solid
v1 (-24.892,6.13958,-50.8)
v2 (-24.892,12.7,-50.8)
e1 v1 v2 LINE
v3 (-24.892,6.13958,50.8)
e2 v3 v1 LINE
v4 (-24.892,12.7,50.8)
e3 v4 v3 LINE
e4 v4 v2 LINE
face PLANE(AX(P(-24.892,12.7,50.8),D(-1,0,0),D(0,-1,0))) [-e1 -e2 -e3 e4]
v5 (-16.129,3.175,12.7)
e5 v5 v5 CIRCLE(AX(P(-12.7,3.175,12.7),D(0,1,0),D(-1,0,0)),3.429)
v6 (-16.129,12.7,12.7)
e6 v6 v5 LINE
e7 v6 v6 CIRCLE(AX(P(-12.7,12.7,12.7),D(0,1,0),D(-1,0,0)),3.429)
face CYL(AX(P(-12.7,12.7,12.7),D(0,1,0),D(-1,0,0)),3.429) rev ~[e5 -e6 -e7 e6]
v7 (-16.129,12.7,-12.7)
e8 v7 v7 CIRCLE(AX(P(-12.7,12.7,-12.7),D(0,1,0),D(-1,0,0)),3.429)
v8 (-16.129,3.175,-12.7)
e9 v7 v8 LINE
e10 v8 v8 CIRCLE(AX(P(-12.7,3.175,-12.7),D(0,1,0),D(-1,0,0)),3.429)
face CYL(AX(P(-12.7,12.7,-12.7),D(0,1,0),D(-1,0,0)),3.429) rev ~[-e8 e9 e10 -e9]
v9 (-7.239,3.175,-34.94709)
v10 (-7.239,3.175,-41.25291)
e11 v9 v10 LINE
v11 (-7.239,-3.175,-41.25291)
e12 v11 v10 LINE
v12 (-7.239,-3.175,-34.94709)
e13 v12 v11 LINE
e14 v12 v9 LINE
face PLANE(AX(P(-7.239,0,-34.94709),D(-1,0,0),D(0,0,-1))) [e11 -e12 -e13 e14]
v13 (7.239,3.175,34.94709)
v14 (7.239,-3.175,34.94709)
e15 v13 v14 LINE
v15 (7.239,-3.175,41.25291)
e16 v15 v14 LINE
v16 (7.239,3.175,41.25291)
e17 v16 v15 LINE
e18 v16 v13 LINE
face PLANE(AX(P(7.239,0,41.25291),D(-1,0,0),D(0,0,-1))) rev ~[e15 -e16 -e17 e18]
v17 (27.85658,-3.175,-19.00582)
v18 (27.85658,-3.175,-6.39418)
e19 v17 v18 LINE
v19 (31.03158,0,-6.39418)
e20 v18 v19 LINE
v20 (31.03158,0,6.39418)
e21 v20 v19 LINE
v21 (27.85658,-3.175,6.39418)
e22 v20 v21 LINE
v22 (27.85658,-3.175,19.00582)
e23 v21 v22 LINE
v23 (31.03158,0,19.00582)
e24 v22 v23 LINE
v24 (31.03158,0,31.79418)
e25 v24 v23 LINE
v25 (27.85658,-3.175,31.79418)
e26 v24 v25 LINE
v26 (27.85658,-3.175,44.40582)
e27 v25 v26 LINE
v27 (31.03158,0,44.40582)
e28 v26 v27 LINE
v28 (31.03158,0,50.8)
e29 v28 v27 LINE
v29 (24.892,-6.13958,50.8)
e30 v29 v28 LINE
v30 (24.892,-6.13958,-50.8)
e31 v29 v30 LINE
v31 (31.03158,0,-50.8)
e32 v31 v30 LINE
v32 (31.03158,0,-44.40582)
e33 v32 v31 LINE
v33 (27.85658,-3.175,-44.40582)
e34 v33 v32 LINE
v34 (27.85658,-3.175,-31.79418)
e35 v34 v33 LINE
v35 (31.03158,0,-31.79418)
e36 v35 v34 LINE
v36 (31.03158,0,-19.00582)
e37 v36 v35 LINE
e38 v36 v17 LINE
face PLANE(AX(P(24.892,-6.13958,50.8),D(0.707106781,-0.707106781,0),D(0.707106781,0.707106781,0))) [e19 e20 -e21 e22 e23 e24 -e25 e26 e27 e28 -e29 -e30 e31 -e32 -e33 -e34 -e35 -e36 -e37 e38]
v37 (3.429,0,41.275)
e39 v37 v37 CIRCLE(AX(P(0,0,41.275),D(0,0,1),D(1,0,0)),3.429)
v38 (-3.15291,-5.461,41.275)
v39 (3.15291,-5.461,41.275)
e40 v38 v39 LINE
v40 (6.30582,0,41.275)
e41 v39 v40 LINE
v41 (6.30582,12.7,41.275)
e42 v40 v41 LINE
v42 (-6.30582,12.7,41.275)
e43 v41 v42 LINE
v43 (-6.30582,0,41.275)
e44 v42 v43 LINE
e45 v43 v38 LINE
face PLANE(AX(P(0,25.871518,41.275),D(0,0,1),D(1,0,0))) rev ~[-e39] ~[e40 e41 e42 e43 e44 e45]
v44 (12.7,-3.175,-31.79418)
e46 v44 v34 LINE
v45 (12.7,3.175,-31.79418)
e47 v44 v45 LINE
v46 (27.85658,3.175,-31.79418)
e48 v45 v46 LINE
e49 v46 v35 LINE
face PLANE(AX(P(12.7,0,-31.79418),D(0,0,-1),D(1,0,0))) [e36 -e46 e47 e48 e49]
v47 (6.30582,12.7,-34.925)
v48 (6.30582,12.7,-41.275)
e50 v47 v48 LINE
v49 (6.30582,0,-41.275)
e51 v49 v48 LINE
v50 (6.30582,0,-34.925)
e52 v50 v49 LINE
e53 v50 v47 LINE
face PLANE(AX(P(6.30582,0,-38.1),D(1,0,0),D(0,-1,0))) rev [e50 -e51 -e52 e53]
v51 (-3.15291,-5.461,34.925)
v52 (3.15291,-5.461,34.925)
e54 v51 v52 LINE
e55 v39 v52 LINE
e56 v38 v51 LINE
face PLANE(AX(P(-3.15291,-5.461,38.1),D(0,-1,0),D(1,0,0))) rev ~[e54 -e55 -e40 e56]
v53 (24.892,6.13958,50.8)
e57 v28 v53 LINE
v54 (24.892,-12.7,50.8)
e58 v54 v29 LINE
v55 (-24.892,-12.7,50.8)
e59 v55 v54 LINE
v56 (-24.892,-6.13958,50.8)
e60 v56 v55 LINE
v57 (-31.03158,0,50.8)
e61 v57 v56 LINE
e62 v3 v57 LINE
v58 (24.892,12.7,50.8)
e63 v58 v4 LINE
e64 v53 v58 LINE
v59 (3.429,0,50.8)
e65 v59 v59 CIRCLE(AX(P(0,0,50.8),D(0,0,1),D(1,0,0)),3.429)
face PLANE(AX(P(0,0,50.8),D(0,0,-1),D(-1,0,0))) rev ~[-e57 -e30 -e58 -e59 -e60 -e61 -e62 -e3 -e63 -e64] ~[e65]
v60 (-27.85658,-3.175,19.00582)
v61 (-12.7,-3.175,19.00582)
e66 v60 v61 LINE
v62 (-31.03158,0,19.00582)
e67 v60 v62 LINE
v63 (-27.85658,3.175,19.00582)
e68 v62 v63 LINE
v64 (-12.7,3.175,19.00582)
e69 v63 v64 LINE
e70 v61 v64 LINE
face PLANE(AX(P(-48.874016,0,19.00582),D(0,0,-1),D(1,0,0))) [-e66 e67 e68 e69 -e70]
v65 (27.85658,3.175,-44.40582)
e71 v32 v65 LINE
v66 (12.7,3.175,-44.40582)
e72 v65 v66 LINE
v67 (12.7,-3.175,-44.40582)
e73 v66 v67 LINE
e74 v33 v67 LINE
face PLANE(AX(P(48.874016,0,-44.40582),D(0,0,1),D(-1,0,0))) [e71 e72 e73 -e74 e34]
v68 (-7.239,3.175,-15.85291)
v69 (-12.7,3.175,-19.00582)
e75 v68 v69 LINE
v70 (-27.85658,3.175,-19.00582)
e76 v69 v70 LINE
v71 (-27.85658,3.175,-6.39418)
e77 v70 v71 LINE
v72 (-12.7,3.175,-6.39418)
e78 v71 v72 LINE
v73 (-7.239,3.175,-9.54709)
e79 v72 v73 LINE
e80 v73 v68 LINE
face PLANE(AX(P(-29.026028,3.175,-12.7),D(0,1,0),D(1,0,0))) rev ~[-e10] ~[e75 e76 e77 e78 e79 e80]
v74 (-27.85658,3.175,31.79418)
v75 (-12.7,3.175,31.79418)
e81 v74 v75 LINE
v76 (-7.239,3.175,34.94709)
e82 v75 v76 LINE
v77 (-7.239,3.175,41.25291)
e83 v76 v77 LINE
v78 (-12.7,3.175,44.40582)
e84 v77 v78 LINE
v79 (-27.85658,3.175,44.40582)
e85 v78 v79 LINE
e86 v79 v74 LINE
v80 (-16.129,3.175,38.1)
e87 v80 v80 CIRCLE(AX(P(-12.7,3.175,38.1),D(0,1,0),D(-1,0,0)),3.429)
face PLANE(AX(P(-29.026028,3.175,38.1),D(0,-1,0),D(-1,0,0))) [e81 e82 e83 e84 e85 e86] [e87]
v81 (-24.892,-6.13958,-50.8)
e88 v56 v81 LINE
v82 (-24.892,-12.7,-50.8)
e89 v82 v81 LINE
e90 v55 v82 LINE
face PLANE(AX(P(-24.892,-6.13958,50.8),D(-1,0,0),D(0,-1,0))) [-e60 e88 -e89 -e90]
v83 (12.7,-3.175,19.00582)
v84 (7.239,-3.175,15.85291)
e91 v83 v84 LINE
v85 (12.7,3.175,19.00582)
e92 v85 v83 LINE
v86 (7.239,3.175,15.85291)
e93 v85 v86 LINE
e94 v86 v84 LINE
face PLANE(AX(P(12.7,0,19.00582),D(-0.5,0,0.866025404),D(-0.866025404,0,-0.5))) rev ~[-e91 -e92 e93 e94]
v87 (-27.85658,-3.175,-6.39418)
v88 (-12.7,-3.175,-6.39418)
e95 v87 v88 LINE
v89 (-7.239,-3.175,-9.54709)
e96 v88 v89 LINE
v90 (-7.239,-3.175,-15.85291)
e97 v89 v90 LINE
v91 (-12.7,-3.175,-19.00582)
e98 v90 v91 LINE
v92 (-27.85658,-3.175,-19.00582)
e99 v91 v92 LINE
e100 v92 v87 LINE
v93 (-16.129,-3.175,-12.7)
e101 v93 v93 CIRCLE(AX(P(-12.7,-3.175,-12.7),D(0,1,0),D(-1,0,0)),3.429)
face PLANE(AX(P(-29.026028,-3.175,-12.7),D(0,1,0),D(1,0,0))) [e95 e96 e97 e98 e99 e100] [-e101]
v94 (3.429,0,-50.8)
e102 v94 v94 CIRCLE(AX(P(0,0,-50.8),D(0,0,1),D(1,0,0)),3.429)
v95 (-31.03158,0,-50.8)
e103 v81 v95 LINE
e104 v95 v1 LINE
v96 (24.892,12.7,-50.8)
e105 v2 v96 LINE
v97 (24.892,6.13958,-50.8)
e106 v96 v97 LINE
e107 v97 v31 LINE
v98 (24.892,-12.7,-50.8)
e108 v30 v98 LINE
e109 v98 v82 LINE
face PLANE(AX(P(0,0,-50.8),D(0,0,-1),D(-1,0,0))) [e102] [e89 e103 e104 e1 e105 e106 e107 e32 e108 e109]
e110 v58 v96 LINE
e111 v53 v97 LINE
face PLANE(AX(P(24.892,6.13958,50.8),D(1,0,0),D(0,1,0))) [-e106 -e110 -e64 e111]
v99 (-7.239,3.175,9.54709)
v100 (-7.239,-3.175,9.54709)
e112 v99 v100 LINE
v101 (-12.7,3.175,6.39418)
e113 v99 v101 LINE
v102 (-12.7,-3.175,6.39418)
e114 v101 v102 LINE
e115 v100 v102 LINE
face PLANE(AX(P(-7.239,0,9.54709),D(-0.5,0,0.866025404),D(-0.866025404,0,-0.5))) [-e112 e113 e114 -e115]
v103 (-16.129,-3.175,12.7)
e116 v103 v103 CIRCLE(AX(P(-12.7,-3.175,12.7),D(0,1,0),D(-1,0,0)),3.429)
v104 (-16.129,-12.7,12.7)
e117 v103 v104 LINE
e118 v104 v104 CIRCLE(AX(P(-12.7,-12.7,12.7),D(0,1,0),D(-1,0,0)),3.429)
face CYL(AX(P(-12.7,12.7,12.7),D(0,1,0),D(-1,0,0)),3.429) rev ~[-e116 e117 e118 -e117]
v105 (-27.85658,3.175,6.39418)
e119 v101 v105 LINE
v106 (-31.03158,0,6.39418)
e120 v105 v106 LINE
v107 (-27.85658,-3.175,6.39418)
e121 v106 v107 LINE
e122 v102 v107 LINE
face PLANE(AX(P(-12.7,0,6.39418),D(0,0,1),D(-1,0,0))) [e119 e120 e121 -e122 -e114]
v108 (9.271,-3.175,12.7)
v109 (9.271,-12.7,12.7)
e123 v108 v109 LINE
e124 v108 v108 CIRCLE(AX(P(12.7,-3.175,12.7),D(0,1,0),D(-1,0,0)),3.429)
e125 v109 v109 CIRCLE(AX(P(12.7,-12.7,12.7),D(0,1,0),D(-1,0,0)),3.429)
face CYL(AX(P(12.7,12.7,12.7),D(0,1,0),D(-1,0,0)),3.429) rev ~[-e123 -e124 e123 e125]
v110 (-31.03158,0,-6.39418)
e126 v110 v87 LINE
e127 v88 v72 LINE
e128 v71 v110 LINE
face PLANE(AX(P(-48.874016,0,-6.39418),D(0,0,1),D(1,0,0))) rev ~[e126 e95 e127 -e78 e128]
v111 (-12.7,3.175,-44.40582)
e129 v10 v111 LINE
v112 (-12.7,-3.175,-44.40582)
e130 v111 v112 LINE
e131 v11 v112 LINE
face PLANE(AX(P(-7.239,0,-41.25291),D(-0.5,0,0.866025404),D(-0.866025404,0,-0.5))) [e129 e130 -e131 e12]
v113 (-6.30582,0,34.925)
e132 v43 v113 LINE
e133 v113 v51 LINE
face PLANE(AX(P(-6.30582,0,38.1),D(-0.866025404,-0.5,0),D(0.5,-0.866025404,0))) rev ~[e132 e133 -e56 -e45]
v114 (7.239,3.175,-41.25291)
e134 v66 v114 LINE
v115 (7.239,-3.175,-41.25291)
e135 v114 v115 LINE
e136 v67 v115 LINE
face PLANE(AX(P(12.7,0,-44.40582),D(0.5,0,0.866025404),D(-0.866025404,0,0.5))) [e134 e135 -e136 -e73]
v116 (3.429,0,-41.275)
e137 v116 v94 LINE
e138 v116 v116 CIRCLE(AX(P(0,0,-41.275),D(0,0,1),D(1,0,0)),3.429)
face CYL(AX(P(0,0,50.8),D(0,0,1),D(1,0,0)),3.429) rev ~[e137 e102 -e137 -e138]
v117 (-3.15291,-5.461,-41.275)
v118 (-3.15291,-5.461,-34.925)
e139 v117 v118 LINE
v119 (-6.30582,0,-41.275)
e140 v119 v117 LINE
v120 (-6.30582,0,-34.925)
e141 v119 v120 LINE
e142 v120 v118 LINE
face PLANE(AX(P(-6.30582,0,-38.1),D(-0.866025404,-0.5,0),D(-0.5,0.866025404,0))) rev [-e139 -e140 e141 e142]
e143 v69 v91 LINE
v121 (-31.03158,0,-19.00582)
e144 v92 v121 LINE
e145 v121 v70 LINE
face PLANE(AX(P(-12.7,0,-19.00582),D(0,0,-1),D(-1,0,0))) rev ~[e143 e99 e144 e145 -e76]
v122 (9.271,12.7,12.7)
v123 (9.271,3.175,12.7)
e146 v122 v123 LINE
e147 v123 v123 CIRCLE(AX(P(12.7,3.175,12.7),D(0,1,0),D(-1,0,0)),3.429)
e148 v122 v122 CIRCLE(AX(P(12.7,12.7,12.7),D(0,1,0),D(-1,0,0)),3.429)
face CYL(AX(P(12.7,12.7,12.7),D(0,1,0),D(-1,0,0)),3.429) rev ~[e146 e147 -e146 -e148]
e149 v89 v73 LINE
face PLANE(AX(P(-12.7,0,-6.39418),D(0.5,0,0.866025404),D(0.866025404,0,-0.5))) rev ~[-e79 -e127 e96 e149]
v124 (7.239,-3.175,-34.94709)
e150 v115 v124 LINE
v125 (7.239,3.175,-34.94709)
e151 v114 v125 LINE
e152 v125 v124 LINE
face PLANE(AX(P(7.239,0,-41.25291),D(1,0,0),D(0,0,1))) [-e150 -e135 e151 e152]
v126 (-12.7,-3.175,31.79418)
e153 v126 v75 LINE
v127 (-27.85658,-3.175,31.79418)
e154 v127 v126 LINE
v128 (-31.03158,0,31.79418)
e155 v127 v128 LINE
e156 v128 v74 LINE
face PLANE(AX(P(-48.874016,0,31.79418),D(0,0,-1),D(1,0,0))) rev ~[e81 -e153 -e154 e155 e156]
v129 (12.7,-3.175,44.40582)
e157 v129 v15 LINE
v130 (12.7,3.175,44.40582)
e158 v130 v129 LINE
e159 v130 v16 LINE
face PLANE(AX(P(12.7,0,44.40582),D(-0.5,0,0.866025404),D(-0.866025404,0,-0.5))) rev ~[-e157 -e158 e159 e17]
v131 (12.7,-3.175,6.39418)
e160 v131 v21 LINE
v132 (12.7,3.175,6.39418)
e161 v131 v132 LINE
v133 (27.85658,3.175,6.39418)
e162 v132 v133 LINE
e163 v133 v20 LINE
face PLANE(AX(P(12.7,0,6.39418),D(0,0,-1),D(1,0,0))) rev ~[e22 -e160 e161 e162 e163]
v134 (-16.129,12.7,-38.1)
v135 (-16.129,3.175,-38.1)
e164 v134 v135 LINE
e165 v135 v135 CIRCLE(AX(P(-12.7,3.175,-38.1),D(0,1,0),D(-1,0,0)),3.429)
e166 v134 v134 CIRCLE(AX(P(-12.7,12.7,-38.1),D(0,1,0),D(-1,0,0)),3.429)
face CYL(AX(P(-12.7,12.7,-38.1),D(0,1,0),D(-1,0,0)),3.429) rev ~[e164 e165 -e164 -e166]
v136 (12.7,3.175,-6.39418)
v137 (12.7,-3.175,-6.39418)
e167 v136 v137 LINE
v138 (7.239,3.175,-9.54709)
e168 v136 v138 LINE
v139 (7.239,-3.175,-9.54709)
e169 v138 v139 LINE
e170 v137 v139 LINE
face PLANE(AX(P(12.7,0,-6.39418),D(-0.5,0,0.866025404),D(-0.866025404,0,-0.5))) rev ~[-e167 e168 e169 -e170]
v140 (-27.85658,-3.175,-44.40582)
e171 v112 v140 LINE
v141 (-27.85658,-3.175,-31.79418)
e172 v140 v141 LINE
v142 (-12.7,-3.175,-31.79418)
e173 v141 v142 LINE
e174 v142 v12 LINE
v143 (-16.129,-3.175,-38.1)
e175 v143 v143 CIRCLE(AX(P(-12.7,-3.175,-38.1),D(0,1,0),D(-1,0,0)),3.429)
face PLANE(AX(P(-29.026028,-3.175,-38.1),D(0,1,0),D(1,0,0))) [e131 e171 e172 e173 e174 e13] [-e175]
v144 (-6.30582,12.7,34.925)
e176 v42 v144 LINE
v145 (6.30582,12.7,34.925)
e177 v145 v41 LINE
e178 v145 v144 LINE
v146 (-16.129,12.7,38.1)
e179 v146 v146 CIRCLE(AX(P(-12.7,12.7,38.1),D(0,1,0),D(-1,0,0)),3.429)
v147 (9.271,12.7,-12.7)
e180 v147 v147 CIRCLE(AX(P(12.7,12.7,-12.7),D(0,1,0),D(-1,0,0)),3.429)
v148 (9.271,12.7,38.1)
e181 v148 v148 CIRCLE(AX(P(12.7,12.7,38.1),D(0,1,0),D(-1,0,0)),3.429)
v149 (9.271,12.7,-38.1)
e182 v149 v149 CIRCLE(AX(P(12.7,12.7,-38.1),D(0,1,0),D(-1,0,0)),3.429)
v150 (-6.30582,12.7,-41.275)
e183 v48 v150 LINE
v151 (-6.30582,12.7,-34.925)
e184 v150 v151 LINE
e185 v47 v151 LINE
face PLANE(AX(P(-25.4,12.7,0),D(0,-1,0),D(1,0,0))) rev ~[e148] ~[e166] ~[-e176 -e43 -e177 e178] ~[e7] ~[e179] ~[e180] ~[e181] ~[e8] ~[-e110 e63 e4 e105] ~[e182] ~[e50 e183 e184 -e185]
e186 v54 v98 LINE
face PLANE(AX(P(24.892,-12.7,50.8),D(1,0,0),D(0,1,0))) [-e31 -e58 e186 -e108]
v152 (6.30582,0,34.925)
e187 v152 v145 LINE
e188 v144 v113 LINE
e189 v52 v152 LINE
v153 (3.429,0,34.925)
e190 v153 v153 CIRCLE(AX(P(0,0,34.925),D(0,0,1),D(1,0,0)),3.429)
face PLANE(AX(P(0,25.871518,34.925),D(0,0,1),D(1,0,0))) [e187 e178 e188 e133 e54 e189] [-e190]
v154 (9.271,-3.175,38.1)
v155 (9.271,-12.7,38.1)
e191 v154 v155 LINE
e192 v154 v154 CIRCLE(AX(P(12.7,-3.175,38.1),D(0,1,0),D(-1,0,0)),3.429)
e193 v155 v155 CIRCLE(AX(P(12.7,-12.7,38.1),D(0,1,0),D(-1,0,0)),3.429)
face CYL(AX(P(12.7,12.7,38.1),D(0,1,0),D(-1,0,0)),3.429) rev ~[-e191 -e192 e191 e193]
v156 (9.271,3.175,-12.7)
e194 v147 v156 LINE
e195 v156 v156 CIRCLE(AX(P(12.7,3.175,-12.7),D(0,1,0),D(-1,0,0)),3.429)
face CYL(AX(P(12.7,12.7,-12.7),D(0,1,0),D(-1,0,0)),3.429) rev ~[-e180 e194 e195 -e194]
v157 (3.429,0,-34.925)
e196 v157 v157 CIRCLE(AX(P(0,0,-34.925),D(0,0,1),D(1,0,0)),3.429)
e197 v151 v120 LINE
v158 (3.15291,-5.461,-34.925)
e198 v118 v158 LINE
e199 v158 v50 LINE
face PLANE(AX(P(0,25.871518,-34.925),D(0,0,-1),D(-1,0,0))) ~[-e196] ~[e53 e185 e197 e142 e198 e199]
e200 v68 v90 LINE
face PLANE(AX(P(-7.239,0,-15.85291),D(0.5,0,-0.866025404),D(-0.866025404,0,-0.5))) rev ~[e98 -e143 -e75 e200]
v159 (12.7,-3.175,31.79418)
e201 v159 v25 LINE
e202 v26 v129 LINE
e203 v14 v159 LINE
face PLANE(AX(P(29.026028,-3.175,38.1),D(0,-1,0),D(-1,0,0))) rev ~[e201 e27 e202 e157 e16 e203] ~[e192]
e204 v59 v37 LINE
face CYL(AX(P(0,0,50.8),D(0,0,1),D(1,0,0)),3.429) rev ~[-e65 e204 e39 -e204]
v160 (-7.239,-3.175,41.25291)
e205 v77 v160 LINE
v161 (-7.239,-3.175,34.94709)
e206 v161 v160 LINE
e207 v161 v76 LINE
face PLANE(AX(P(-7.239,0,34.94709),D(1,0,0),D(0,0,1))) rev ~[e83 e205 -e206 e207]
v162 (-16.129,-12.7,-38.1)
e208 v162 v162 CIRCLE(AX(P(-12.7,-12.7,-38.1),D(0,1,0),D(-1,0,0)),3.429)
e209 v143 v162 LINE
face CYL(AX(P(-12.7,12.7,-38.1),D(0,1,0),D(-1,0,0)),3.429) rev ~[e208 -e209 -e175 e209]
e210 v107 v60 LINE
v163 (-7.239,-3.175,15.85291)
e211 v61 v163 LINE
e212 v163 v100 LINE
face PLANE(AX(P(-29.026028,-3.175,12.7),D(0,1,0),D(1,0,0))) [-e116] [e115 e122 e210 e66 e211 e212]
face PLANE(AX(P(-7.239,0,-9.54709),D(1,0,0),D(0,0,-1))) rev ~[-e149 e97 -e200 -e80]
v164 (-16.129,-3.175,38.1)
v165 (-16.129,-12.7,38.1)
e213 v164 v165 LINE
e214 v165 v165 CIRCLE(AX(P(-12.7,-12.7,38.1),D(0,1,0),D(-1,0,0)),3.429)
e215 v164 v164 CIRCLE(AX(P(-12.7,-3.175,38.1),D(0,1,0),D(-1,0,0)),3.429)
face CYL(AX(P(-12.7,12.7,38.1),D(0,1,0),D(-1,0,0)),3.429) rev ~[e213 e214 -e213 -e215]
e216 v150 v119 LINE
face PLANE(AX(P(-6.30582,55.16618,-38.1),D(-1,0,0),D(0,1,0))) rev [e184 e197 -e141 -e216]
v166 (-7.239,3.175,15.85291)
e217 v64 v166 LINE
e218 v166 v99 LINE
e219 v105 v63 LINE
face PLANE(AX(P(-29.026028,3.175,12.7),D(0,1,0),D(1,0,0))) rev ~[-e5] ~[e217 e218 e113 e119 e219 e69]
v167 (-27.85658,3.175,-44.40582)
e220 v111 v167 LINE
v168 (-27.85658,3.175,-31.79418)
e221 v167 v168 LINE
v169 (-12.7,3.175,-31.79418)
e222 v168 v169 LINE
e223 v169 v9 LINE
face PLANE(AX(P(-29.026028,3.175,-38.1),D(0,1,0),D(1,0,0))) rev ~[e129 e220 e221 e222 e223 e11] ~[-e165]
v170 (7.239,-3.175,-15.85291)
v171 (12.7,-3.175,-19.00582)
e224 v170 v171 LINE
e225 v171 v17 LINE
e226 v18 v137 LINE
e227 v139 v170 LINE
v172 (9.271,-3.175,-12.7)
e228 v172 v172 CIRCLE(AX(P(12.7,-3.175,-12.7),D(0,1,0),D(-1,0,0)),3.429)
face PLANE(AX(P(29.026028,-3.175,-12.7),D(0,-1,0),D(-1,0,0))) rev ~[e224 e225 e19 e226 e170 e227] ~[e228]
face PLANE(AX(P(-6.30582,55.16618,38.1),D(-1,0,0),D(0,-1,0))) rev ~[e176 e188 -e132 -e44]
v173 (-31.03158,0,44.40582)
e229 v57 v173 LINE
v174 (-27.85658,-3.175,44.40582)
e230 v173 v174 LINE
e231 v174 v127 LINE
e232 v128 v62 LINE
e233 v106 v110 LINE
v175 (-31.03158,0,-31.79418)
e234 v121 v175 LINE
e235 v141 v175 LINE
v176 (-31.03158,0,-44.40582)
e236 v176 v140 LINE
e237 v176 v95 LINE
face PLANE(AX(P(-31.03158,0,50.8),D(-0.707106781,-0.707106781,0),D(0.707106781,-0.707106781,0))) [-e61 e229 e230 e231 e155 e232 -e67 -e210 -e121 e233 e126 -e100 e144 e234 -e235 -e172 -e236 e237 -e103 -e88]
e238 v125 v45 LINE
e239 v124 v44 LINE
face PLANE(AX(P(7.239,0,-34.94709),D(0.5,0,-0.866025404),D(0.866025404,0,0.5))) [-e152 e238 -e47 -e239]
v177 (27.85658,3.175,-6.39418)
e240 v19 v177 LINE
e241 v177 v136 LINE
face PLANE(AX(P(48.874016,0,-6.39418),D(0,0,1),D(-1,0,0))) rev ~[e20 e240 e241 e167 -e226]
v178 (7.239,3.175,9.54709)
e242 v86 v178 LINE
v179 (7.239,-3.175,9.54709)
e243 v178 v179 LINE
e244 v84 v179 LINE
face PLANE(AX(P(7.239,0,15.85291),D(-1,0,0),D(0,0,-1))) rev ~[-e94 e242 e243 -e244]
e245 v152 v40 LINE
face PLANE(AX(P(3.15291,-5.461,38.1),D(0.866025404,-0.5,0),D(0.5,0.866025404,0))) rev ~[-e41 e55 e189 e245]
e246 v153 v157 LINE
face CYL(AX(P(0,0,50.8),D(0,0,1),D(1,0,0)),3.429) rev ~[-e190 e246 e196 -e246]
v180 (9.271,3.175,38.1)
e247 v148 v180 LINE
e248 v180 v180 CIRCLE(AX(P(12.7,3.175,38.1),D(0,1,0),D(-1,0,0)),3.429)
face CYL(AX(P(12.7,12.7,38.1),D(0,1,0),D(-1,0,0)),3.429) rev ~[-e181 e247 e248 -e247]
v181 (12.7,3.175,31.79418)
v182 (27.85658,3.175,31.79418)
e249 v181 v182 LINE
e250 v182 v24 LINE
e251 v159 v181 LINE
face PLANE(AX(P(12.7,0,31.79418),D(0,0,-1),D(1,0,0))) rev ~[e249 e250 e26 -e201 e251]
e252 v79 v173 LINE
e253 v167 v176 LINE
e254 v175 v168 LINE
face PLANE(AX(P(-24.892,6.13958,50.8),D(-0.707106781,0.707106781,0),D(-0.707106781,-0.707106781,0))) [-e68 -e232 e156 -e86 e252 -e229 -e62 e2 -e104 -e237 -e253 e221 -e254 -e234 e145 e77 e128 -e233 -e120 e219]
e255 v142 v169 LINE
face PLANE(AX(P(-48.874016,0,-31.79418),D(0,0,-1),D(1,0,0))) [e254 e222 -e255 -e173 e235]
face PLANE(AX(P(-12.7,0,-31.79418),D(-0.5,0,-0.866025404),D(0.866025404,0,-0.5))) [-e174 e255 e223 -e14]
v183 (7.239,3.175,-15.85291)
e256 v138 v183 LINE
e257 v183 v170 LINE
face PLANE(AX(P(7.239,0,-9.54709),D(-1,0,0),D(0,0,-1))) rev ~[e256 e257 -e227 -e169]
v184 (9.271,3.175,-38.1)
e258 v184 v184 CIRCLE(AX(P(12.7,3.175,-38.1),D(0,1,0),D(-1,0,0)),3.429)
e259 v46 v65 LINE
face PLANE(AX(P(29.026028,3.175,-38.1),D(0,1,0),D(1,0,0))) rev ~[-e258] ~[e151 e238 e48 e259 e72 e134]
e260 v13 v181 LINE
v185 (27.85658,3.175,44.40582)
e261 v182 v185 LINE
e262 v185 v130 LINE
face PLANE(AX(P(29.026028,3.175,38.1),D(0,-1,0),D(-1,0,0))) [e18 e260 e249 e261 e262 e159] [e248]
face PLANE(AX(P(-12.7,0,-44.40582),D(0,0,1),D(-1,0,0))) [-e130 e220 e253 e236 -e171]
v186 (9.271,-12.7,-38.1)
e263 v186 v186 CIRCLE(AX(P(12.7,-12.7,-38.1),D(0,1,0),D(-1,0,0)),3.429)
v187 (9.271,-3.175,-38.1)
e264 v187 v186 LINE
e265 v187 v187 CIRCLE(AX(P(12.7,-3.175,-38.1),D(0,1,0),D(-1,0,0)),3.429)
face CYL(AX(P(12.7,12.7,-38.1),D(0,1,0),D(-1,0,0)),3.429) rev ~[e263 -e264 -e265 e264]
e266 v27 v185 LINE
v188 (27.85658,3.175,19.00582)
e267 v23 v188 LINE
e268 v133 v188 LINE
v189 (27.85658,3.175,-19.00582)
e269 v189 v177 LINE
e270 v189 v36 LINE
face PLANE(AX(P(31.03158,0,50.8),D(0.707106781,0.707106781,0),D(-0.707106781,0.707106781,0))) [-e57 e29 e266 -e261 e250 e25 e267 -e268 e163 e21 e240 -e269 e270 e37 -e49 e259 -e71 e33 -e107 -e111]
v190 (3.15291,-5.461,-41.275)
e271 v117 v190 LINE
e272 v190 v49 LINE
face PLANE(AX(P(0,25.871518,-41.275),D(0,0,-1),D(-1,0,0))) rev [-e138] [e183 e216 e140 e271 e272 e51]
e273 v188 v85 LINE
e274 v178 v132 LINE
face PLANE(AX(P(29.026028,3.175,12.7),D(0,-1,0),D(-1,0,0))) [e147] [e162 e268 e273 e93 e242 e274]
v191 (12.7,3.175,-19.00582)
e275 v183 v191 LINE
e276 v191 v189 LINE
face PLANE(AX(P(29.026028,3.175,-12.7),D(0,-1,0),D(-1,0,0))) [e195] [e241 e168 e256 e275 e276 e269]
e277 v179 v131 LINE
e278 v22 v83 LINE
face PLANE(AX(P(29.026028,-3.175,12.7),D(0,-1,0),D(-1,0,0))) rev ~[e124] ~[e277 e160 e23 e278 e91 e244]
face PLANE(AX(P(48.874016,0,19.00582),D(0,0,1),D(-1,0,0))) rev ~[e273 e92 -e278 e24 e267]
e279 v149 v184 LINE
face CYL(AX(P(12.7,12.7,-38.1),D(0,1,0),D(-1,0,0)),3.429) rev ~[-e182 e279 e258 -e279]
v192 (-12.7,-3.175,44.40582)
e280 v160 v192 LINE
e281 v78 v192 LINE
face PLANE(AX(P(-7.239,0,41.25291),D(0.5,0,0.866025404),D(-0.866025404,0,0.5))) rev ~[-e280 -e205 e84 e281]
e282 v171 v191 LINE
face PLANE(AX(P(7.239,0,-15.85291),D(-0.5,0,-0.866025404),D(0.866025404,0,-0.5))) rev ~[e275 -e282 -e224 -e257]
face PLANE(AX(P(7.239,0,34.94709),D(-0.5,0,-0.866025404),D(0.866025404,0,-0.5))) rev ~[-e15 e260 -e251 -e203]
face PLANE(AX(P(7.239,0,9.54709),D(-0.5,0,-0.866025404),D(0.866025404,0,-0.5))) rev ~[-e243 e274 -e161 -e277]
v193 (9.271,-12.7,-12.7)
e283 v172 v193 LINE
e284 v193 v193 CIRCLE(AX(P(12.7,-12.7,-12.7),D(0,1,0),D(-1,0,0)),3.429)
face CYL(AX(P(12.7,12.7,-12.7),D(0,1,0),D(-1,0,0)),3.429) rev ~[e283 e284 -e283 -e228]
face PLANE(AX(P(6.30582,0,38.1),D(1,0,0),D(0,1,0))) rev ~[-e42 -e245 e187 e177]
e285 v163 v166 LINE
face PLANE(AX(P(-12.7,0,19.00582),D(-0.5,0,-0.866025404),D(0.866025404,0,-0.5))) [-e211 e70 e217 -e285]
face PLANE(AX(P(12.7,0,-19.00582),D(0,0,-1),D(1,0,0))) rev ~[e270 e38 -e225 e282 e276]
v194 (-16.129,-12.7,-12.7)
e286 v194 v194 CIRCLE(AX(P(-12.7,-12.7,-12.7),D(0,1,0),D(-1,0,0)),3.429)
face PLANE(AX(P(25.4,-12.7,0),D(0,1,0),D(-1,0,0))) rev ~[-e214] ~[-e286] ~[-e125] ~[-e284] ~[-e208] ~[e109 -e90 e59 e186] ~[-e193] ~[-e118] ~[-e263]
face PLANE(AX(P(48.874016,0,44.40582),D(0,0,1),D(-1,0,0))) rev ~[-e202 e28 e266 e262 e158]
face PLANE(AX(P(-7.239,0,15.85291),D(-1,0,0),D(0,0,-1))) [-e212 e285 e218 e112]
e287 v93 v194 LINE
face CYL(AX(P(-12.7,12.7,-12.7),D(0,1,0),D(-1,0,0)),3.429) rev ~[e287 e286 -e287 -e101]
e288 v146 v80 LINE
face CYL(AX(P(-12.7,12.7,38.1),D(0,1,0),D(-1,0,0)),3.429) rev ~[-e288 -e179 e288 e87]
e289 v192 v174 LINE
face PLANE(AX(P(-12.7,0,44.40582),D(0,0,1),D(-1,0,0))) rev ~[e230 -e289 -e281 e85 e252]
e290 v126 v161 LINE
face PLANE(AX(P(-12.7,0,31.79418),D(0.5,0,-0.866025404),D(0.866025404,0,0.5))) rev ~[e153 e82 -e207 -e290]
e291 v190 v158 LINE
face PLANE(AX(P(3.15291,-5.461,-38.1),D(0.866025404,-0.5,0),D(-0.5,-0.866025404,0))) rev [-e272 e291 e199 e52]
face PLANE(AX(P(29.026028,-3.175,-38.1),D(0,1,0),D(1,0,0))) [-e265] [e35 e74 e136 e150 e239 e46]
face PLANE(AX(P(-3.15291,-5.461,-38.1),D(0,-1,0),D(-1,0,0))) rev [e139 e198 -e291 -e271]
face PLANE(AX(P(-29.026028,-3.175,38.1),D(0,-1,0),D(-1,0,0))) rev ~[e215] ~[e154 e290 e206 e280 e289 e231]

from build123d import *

# Parameters (mm, degrees)
BOSS_EXTRUDE1_DEPTH = 50.8
CUT_EXTRUDE1_DEPTH  = 3.175
SKETCH3_R           = 3.429
CUT_EXTRUDE2_DEPTH  = 66.068137364
SKETCH5_R           = 3.429
CUT_EXTRUDE4_DEPTH  = 108.200338152
CUT_EXTRUDE9_START  = 38.1
CUT_EXTRUDE9_DEPTH  = 3.175
SKETCH11_OUTSIDE_W  = 89.994
SKETCH11_OUTSIDE_H  = 51.894
TRIM_DEPTH          = 108.200338152


with BuildPart() as part:
    # Sketch1 → Boss-Extrude1 (new, symmetric)
    with BuildSketch(Plane.XY):
        Polygon((-25.4, 6.35), (-25.4, 12.7), (25.4, 12.7), (25.4, 6.35), (31.75, 0), (25.4, -6.35), (25.4, -12.7), (-25.4, -12.7), (-25.4, -6.35), (-31.75, 0), align=None)
    extrude(amount=BOSS_EXTRUDE1_DEPTH, both=True)

    # Sketch2 → Cut-Extrude1 (cut, symmetric)
    with BuildSketch(Plane(origin=(0, 0, 0), x_dir=(1, 0, 0), z_dir=(0, 1, 0))):
        Polygon((48.874015971, 6.39418036), (12.7, 6.39418036), (7.239, 9.54709018), (7.239, 15.85290982), (12.7, 19.00581964), (48.874015971, 19.00581964), align=None)
        Polygon((48.874015971, -19.00581964), (12.7, -19.00581964), (7.239, -15.85290982), (7.239, -9.54709018), (12.7, -6.39418036), (48.874015971, -6.39418036), align=None)
        Polygon((7.239, 34.94709018), (12.7, 31.79418036), (48.874015971, 31.79418036), (48.874015971, 44.40581964), (12.7, 44.40581964), (7.239, 41.25290982), align=None)
        Polygon((48.874015971, -44.40581964), (12.7, -44.40581964), (7.239, -41.25290982), (7.239, -34.94709018), (12.7, -31.79418036), (48.874015971, -31.79418036), align=None)
        Polygon((-7.239, -34.94709018), (-7.239, -41.25290982), (-12.7, -44.40581964), (-48.874015971, -44.40581964), (-48.874015971, -31.79418036), (-12.7, -31.79418036), align=None)
        Polygon((-48.874015971, -6.39418036), (-48.874015971, -19.00581964), (-12.7, -19.00581964), (-7.239, -15.85290982), (-7.239, -9.54709018), (-12.7, -6.39418036), align=None)
        Polygon((-48.874015971, 31.79418036), (-12.7, 31.79418036), (-7.239, 34.94709018), (-7.239, 41.25290982), (-12.7, 44.40581964), (-48.874015971, 44.40581964), align=None)
        Polygon((-48.874015971, 19.00581964), (-48.874015971, 6.39418036), (-12.7, 6.39418036), (-7.239, 9.54709018), (-7.239, 15.85290982), (-12.7, 19.00581964), align=None)
    extrude(amount=CUT_EXTRUDE1_DEPTH, both=True, mode=Mode.SUBTRACT)

    # Sketch3 → Cut-Extrude2 (cut, through all)
    with BuildSketch(Plane(origin=(0, 12.7, 0), x_dir=(1, 0, 0), z_dir=(0, 1, 0))):
        with Locations(Location((-12.7, 38.1, 0), (0, 0, 180))):
            Circle(SKETCH3_R)
        with Locations(Location((12.7, 38.1, 0), (0, 0, 180))):
            Circle(SKETCH3_R)
        with Locations(Location((12.7, 12.7, 0), (0, 0, 180))):
            Circle(SKETCH3_R)
        with Locations(Location((-12.7, 12.7, 0), (0, 0, 180))):
            Circle(SKETCH3_R)
        with Locations(Location((-12.7, -12.7, 0), (0, 0, 180))):
            Circle(SKETCH3_R)
        with Locations(Location((12.7, -12.7, 0), (0, 0, 180))):
            Circle(SKETCH3_R)
        with Locations(Location((-12.7, -38.1, 0), (0, 0, 180))):
            Circle(SKETCH3_R)
        with Locations(Location((12.7, -38.1, 0), (0, 0, 180))):
            Circle(SKETCH3_R)
    extrude(amount=-CUT_EXTRUDE2_DEPTH, mode=Mode.SUBTRACT)

    # Sketch5 → Cut-Extrude4 (cut, through all)
    with BuildSketch(Plane.XY.offset(50.8)):
        Circle(SKETCH5_R)
    extrude(amount=-CUT_EXTRUDE4_DEPTH, mode=Mode.SUBTRACT)

    # Sketch10 → Cut-Extrude9 (cut, symmetric)
    with BuildSketch(Plane.XY.offset(CUT_EXTRUDE9_START)):
        Polygon((3.15290982, -5.461), (6.30581964, 0), (6.30581964, 55.166180444), (-6.30581964, 55.166180444), (-6.30581964, 0), (-3.15290982, -5.461), align=None)
    cut_extrude9 = extrude(amount=CUT_EXTRUDE9_DEPTH, both=True, mode=Mode.SUBTRACT)

    # Mirror1: Cut-Extrude9 across plane
    add(cut_extrude9.mirror(Plane.XY), mode=Mode.SUBTRACT)

    # Sketch11 outside → Trim (cut, through all)
    with BuildSketch(Plane.XY.offset(50.8)):
        Rectangle(SKETCH11_OUTSIDE_W, SKETCH11_OUTSIDE_H)
        Polygon((-24.892, 12.7), (-24.892, 6.13957951), (-31.03157951, 0), (-24.892, -6.13957951), (-24.892, -12.7), (24.892, -12.7), (24.892, -6.13957951), (31.03157951, 0), (24.892, 6.13957951), (24.892, 12.7), align=None, mode=Mode.SUBTRACT)
    extrude(amount=-TRIM_DEPTH, mode=Mode.SUBTRACT)


solid = part.part
